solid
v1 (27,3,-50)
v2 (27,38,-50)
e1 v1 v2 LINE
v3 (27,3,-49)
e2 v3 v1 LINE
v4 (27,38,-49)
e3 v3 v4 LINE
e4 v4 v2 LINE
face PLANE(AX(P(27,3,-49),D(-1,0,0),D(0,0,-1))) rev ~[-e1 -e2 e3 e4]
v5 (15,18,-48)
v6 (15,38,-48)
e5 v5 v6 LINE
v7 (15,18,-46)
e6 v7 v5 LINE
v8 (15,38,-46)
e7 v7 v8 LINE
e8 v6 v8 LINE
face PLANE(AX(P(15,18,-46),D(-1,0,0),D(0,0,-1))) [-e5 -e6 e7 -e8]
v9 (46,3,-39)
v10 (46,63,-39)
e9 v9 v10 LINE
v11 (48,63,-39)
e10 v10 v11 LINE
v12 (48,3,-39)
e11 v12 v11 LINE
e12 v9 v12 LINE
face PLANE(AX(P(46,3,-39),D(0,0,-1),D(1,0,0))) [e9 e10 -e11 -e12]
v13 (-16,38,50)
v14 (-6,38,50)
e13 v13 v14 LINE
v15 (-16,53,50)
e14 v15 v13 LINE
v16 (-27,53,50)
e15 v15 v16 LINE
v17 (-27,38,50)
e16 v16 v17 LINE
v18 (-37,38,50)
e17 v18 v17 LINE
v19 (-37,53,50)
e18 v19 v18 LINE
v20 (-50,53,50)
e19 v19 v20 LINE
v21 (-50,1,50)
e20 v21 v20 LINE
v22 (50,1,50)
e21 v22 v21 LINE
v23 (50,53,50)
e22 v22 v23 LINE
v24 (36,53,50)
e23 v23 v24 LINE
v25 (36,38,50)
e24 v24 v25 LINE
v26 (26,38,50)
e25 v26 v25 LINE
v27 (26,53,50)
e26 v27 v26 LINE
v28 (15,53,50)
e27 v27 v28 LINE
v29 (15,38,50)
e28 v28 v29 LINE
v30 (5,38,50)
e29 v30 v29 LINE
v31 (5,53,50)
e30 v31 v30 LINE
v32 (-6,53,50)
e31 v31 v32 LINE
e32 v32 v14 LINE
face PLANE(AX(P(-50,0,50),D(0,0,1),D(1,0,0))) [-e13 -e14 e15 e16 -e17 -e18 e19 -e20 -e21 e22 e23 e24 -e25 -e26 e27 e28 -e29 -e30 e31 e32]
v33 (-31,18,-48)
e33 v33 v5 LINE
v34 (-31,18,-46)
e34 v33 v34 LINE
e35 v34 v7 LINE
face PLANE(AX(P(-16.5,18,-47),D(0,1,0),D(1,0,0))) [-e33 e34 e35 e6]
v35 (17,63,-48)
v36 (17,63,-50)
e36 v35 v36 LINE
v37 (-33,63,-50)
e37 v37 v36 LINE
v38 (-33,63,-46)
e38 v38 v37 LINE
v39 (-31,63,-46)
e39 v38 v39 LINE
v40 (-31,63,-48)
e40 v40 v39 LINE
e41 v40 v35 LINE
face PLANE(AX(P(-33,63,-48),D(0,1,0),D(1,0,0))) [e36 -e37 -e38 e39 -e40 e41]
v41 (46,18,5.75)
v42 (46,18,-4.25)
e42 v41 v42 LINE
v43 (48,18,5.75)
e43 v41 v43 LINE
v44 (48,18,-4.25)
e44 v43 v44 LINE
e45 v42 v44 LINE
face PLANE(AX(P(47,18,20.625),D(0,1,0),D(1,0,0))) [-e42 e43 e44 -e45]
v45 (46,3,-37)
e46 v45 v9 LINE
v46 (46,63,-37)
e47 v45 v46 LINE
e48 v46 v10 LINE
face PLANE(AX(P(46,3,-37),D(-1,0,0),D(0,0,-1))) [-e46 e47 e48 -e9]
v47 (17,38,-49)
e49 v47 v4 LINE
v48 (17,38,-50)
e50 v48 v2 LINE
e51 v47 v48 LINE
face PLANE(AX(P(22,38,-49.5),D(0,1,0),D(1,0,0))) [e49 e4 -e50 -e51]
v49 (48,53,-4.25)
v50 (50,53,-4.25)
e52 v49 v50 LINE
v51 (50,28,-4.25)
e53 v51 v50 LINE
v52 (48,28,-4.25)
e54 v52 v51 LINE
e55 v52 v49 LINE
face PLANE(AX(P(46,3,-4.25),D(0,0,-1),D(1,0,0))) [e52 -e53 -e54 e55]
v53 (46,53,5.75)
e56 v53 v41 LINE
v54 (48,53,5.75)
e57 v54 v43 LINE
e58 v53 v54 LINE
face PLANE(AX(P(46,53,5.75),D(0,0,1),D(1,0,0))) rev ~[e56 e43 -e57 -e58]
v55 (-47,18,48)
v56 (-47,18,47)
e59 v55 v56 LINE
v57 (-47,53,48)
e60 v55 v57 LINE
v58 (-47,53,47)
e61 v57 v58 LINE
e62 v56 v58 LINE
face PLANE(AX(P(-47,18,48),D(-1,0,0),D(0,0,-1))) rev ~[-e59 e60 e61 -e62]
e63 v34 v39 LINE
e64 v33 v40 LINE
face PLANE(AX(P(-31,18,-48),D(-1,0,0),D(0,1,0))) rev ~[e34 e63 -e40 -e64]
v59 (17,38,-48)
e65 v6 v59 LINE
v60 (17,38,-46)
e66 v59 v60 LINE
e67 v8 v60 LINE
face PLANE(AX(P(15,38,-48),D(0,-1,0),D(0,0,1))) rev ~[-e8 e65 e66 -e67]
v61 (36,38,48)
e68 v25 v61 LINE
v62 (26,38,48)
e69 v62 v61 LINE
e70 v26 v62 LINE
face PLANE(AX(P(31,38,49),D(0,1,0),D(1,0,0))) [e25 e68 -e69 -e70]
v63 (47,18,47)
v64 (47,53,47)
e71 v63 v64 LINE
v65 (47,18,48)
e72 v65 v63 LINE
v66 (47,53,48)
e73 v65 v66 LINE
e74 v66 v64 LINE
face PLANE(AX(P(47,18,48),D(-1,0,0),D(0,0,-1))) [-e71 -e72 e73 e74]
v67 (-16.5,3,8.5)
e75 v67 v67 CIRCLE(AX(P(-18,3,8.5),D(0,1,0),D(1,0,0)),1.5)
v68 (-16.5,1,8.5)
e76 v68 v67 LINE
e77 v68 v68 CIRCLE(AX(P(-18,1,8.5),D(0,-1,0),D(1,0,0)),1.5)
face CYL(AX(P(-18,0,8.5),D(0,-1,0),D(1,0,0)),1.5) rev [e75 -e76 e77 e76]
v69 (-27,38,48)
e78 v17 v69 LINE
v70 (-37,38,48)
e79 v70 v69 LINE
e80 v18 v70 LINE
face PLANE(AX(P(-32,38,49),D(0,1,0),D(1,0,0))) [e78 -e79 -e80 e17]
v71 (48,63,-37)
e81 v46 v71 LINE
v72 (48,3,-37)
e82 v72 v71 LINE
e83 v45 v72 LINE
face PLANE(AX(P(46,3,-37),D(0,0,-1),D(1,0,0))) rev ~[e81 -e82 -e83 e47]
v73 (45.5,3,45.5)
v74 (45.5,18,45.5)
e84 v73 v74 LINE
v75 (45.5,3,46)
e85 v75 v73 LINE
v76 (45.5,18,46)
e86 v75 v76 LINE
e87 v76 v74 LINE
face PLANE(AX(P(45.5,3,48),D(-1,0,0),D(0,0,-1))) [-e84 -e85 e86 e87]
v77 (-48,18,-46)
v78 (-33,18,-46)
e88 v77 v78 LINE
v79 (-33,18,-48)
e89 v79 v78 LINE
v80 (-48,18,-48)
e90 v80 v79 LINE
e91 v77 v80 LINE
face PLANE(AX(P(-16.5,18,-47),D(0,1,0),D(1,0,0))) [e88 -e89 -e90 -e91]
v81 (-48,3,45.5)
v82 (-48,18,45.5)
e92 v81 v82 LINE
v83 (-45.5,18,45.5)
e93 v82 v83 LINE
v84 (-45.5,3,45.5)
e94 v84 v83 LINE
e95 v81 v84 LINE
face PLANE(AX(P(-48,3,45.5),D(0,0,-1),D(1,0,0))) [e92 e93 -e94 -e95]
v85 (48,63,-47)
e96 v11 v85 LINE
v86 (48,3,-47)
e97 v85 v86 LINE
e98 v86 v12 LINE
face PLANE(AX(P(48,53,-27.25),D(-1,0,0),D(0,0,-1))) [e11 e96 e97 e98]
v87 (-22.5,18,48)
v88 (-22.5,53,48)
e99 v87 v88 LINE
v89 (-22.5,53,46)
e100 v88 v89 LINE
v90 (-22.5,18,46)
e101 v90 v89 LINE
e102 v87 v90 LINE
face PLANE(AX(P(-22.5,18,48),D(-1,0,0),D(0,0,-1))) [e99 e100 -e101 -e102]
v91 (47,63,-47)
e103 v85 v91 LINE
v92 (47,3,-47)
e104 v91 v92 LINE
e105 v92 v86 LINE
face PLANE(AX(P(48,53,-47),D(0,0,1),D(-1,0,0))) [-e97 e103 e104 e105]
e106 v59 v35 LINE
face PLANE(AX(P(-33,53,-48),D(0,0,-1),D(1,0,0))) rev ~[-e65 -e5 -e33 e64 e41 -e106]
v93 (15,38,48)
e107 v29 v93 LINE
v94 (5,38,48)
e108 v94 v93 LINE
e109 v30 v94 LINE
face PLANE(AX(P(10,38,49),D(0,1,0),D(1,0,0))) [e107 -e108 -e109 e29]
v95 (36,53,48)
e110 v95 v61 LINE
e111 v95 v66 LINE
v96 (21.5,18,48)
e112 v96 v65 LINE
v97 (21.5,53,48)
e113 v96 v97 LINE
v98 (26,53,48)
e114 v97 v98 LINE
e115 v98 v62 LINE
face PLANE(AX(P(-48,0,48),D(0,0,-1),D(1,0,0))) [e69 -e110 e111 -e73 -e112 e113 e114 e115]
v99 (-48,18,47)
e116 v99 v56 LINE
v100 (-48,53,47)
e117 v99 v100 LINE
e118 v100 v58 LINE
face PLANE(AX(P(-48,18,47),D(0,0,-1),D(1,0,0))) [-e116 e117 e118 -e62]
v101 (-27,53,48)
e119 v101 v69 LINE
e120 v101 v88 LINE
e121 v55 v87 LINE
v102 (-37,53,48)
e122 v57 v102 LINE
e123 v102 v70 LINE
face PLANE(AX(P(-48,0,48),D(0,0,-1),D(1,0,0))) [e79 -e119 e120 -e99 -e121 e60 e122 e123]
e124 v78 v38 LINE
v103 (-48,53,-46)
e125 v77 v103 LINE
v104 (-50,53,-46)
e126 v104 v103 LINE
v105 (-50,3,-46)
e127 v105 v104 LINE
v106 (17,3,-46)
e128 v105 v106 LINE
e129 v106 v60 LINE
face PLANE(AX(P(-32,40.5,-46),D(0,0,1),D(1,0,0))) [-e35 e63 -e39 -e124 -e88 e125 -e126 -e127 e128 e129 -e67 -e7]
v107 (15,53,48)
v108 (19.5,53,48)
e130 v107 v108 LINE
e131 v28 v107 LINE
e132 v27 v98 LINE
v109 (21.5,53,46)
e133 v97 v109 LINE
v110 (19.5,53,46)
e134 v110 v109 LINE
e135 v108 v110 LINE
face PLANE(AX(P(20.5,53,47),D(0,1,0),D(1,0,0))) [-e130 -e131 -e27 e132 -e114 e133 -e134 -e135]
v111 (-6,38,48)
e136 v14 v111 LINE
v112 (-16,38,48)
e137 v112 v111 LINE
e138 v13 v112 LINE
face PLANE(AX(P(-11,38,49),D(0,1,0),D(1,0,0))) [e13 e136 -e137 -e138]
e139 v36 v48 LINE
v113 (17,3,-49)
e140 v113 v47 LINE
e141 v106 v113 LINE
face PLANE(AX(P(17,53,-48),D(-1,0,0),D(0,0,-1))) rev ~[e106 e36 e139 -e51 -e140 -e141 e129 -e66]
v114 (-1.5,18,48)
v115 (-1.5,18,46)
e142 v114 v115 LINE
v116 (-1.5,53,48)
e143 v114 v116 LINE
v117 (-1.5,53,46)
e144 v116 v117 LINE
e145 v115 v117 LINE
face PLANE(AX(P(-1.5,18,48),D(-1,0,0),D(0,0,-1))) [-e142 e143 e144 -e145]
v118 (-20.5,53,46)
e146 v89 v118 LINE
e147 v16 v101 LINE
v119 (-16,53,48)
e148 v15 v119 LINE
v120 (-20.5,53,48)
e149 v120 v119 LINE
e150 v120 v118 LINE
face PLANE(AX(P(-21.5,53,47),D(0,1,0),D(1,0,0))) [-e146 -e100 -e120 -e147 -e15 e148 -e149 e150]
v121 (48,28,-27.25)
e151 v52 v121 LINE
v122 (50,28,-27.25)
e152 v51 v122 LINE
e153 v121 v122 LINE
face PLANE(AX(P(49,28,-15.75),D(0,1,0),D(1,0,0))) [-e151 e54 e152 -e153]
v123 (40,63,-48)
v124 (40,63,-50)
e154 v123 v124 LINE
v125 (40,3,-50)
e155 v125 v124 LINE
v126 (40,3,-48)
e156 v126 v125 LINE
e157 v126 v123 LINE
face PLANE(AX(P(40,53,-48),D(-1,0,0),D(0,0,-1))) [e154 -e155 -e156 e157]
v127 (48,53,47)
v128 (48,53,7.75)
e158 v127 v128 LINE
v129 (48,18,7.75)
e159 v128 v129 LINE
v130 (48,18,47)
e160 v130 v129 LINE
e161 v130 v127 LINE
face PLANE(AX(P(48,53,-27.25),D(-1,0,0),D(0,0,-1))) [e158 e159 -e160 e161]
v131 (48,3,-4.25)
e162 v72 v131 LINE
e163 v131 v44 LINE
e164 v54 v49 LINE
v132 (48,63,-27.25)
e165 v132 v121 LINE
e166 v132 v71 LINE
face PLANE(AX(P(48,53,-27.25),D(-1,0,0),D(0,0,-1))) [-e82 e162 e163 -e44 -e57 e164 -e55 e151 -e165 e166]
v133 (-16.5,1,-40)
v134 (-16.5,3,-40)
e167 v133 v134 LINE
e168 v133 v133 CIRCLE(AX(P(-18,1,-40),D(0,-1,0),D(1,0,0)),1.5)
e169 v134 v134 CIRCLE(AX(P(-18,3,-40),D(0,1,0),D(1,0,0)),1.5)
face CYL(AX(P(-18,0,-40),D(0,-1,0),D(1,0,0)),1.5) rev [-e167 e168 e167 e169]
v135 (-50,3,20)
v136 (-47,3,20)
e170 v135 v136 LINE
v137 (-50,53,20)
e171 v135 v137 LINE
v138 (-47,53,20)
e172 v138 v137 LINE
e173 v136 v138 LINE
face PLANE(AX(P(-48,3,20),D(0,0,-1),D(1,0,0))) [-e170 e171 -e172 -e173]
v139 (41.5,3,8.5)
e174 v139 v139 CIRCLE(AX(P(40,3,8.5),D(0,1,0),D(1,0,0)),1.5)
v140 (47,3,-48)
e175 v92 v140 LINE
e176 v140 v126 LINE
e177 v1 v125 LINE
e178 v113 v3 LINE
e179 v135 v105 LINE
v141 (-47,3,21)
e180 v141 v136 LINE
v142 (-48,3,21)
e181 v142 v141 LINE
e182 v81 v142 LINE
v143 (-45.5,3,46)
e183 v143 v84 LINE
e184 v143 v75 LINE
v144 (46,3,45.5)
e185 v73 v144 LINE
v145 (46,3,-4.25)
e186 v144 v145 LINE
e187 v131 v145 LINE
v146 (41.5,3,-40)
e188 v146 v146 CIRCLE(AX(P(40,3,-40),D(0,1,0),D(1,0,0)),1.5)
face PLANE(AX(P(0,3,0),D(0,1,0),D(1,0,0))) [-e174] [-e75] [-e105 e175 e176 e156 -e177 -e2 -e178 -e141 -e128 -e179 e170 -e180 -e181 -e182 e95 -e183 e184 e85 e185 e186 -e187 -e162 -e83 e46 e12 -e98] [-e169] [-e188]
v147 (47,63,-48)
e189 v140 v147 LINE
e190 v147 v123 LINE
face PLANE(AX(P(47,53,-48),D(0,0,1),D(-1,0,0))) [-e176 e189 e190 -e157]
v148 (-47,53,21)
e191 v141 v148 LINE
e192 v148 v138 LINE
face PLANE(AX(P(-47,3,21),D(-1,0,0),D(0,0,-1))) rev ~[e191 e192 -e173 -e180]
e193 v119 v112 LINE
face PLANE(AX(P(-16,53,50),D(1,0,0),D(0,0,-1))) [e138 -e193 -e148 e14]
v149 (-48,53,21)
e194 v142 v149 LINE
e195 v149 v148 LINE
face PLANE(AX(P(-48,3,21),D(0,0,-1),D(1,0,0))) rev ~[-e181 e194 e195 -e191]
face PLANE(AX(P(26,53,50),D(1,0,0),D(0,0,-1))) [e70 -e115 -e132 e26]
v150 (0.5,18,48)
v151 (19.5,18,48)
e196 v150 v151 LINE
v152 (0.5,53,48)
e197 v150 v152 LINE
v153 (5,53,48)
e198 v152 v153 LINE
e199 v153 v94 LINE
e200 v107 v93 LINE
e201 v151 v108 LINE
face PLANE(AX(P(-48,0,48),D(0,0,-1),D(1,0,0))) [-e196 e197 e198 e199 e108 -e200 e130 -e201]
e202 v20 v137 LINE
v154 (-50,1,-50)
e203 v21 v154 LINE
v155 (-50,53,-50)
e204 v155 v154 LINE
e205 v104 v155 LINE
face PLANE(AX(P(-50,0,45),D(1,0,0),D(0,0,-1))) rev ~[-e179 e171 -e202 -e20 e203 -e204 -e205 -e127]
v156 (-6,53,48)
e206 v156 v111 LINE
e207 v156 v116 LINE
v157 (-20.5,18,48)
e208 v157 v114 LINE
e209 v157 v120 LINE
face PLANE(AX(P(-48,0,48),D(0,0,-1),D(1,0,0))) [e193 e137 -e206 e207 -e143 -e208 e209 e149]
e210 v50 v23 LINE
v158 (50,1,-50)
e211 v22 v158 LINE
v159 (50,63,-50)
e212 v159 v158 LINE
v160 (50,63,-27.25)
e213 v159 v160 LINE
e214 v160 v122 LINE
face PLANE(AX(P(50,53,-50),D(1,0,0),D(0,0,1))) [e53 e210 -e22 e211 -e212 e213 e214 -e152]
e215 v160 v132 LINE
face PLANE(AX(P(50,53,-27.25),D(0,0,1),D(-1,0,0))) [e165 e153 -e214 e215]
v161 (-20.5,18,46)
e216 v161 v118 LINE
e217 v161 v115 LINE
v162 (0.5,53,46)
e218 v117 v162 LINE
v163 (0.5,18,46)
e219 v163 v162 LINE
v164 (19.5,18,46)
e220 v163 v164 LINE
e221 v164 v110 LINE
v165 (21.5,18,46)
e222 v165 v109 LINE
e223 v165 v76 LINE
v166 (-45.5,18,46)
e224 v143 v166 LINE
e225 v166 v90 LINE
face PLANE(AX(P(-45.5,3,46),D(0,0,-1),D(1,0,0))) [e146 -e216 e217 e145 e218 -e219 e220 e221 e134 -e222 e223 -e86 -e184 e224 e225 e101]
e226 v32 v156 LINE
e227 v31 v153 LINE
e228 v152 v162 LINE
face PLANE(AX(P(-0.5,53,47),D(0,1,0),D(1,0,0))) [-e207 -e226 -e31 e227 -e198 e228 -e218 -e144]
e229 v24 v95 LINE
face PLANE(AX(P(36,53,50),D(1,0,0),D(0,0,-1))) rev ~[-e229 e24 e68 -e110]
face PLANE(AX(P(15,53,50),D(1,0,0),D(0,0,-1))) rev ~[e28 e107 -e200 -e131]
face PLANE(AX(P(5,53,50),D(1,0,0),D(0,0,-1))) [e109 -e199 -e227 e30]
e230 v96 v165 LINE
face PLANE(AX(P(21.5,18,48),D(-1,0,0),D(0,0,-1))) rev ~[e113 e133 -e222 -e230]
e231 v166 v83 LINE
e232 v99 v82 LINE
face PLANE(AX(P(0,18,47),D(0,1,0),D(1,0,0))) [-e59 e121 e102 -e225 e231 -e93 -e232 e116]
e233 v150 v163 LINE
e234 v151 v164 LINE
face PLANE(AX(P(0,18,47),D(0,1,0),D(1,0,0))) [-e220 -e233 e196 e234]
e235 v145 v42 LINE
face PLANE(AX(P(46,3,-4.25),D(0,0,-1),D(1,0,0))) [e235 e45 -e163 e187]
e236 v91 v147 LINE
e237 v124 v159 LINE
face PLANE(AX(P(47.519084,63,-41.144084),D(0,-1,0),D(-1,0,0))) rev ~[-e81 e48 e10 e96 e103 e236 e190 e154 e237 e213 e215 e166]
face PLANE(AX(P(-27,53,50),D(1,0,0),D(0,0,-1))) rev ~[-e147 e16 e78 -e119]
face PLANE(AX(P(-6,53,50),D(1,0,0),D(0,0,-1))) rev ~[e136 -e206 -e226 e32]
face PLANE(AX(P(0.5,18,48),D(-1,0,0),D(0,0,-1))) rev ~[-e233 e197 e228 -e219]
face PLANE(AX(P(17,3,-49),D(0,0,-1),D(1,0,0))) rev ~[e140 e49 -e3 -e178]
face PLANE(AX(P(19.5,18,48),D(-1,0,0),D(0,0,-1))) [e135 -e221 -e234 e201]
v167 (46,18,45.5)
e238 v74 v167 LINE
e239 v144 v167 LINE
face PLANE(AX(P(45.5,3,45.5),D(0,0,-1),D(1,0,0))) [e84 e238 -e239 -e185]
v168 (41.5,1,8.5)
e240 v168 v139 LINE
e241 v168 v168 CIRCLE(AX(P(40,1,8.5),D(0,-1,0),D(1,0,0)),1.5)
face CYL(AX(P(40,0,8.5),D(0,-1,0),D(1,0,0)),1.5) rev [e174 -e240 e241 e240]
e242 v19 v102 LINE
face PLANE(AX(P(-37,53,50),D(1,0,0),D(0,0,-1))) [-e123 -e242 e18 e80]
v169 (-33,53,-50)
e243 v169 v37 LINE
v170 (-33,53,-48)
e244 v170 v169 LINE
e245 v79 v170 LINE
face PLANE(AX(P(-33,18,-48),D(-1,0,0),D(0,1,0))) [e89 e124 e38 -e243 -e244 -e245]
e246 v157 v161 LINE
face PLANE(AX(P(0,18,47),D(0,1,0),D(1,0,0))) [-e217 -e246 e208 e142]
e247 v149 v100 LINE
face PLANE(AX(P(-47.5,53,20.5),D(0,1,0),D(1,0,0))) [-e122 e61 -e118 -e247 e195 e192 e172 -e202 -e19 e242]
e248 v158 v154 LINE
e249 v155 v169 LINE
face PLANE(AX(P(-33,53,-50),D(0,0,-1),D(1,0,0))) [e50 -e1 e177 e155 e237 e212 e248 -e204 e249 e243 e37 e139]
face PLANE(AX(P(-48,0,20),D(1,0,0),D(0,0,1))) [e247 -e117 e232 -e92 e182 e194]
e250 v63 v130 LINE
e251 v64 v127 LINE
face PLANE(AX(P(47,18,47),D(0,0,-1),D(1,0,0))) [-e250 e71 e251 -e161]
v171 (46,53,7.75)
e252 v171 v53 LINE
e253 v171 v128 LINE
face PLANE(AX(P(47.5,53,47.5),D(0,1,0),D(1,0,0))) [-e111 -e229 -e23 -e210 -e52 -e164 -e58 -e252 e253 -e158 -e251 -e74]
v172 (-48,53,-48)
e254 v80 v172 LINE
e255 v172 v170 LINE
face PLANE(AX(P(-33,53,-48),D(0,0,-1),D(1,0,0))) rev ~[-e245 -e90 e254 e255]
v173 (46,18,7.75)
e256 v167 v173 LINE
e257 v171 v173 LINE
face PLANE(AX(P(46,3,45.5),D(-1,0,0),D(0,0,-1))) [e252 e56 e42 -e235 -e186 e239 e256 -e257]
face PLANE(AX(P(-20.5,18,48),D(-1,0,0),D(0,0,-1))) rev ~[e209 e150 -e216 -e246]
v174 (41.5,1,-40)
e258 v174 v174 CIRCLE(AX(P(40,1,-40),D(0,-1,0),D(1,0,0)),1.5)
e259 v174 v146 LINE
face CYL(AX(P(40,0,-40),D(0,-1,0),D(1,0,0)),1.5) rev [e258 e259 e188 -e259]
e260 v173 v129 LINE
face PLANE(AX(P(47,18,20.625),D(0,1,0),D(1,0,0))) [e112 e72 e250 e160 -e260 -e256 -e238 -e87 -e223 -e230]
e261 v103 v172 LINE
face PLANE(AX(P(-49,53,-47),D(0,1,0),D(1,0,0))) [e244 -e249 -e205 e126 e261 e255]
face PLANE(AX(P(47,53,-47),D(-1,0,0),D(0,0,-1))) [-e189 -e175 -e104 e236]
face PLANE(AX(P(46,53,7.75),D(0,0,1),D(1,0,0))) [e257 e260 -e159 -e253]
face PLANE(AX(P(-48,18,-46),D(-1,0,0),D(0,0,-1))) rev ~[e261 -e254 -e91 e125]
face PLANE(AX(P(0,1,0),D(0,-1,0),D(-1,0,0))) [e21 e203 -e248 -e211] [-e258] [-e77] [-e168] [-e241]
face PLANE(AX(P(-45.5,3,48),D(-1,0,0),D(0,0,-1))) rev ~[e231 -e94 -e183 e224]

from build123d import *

# Parameters (mm, degrees)
SKICA1_W                  = 100
SKICA1_H                  = 100
P_IDAT_VYSUNUT_M1_DEPTH   = 3
SKICA2_R                  = 1.5
ODEBRAT_VYSUNUT_M5_DEPTH  = 3
SKICA3_W                  = 75
SKICA3_H                  = 2
P_IDAT_VYSUNUT_M4_DEPTH   = 53
SKICA10_W                 = 8
SKICA10_H                 = 2
ODEBRAT_VYSUNUT_M6_DEPTH  = 50
SKICA11_W                 = 10
SKICA11_H                 = 2
ODEBRAT_VYSUNUT_M8_DEPTH  = 15
SKICA16_W                 = 67
SKICA16_H                 = 2
P_IDAT_VYSUNUT_M6_DEPTH   = 15
SKICA17_W                 = 2.5
SKICA17_H                 = 2.5
P_IDAT_VYSUNUT_M7_DEPTH   = 15
SKICA18_W                 = 2.5
SKICA18_H                 = 2.5
P_IDAT_VYSUNUT_M8_DEPTH   = 15
SKICA19_W                 = 1
SKICA19_H                 = 1
P_IDAT_VYSUNUT_M10_DEPTH  = 50
SKICA20_W                 = 1
SKICA20_H                 = 1
P_IDAT_VYSUNUT_M11_DEPTH  = 35
SKICA21_W                 = 1
SKICA21_H                 = 1
P_IDAT_VYSUNUT_M12_DEPTH  = 35
SKICA22_W                 = 1
SKICA22_H                 = 1
P_IDAT_VYSUNUT_M13_DEPTH  = 50
SKICA24_W                 = 91
SKICA24_H                 = 2
P_IDAT_VYSUNUT_M14_DEPTH  = 15
SKICA25_W                 = 2
SKICA25_H                 = 2
P_IDAT_VYSUNUT_M15_DEPTH  = 35
SKICA26_W                 = 2
SKICA26_H                 = 2
P_IDAT_VYSUNUT_M16_DEPTH  = 35
SKICA27_W                 = 2
SKICA27_H                 = 49.75
P_IDAT_VYSUNUT_M17_DEPTH  = 15
SKICA28_W                 = 100
SKICA28_H                 = 5
P_IDAT_VYSUNUT_M18_DEPTH  = 5
SKICA30_W                 = 5
SKICA30_H                 = 90
P_IDAT_VYSUNUT_M19_DEPTH  = 5
SKICA31_W                 = 100
SKICA31_H                 = 100
ODEBRAT_VYSUNUT_M9_DEPTH  = 6
SKICA32_W                 = 2
SKICA32_H                 = 15
ODEBRAT_VYSUNUT_M10_DEPTH = 6
SKICA33_W                 = 2
SKICA33_H                 = 23
P_IDAT_VYSUNUT_M22_DEPTH  = 25
P_IDAT_VYSUNUT_M23_DEPTH  = 10
SKICA35_W                 = 50
SKICA35_H                 = 2
P_IDAT_VYSUNUT_M24_DEPTH  = 10
SKICA36_W                 = 2
SKICA36_H                 = 45
P_IDAT_VYSUNUT_M25_DEPTH  = 2
SKICA37_W                 = 2
SKICA37_H                 = 2
P_IDAT_VYSUNUT_M26_DEPTH  = 60
SKICA38_W                 = 10
SKICA38_H                 = 1
P_IDAT_VYSUNUT_M27_DEPTH  = 35
SKICA40_W                 = 2
SKICA40_H                 = 2
P_IDAT_VYSUNUT_M29_DEPTH  = 35


with BuildPart() as part:
    # Skica1 → Přidat vysunutím1 (new body)
    with BuildSketch(Plane(origin=(0, 0, 0), x_dir=(1, 0, 0), z_dir=(0, 1, 0))):
        Rectangle(SKICA1_W, SKICA1_H)
    extrude(amount=P_IDAT_VYSUNUT_M1_DEPTH)

    # Skica2 → Odebrat vysunutím5 (cut)
    with BuildSketch(Plane(origin=(0, 0, 0), x_dir=(1, 0, 0), z_dir=(0, 1, 0))):
        with Locations((-18, 40)):
            Circle(SKICA2_R)
        with Locations((40, 40)):
            Circle(SKICA2_R)
        with Locations((40, -8.5)):
            Circle(SKICA2_R)
        with Locations((-18, -8.5)):
            Circle(SKICA2_R)
    extrude(amount=ODEBRAT_VYSUNUT_M5_DEPTH, mode=Mode.SUBTRACT)

    # Skica3 → Přidat vysunutím4 (add)
    with BuildSketch(Plane(origin=(0, 0, 0), x_dir=(1, 0, 0), z_dir=(0, 1, 0))):
        Polygon((40, 50), (40, 48), (48, 48), (48, 27.25), (50, 27.25), (50, 50), align=None)
        Polygon((-50, -20), (-48, -20), (-48, -48), (48, -48), (48, 4.25), (50, 4.25), (50, -50), (-50, -50), align=None)
        with Locations((-12.5, 49)):
            Rectangle(SKICA3_W, SKICA3_H)
    extrude(amount=P_IDAT_VYSUNUT_M4_DEPTH)

    # Skica10 → Odebrat vysunutím6 (cut)
    with BuildSketch(Plane(origin=(0, 53, 0), x_dir=(1, 0, 0), z_dir=(0, 1, 0))):
        with Locations((21, 49)):
            Rectangle(SKICA10_W, SKICA10_H)
    extrude(amount=-ODEBRAT_VYSUNUT_M6_DEPTH, mode=Mode.SUBTRACT)

    # Skica11 → Odebrat vysunutím8 (cut)
    with BuildSketch(Plane(origin=(0, 53, 0), x_dir=(1, 0, 0), z_dir=(0, 1, 0))):
        with Locations((-32, -49)):
            Rectangle(SKICA11_W, SKICA11_H)
        with Locations((-11, -49)):
            Rectangle(SKICA11_W, SKICA11_H)
        with Locations((10, -49)):
            Rectangle(SKICA11_W, SKICA11_H)
        with Locations((31, -49)):
            Rectangle(SKICA11_W, SKICA11_H)
    extrude(amount=-ODEBRAT_VYSUNUT_M8_DEPTH, mode=Mode.SUBTRACT)

    # Skica16 → Přidat vysunutím6 (add)
    with BuildSketch(Plane(origin=(0, 3, 0), x_dir=(1, 0, 0), z_dir=(0, 1, 0))):
        with Locations((-16.5, 47)):
            Rectangle(SKICA16_W, SKICA16_H)
    extrude(amount=P_IDAT_VYSUNUT_M6_DEPTH)

    # Skica17 → Přidat vysunutím7 (add)
    with BuildSketch(Plane(origin=(0, 3, 0), x_dir=(1, 0, 0), z_dir=(0, 1, 0))):
        with Locations((46.75, -46.75)):
            Rectangle(SKICA17_W, SKICA17_H)
    extrude(amount=P_IDAT_VYSUNUT_M7_DEPTH)

    # Skica18 → Přidat vysunutím8 (add)
    with BuildSketch(Plane(origin=(0, 3, 0), x_dir=(1, 0, 0), z_dir=(0, 1, 0))):
        with Locations((-46.75, -46.75)):
            Rectangle(SKICA18_W, SKICA18_H)
    extrude(amount=P_IDAT_VYSUNUT_M8_DEPTH)

    # Skica19 → Přidat vysunutím10 (add)
    with BuildSketch(Plane(origin=(0, 3, 0), x_dir=(1, 0, 0), z_dir=(0, 1, 0))):
        with Locations((47.5, 47.5)):
            Rectangle(SKICA19_W, SKICA19_H)
    extrude(amount=P_IDAT_VYSUNUT_M10_DEPTH)

    # Skica20 → Přidat vysunutím11 (add)
    with BuildSketch(Plane(origin=(0, 18, 0), x_dir=(1, 0, 0), z_dir=(0, 1, 0))):
        with Locations((47.5, -47.5)):
            Rectangle(SKICA20_W, SKICA20_H)
    extrude(amount=P_IDAT_VYSUNUT_M11_DEPTH)

    # Skica21 → Přidat vysunutím12 (add)
    with BuildSketch(Plane(origin=(0, 18, 0), x_dir=(1, 0, 0), z_dir=(0, 1, 0))):
        with Locations((-47.5, -47.5)):
            Rectangle(SKICA21_W, SKICA21_H)
    extrude(amount=P_IDAT_VYSUNUT_M12_DEPTH)

    # Skica22 → Přidat vysunutím13 (add)
    with BuildSketch(Plane(origin=(0, 3, 0), x_dir=(1, 0, 0), z_dir=(0, 1, 0))):
        with Locations((-47.5, -20.5)):
            Rectangle(SKICA22_W, SKICA22_H)
    extrude(amount=P_IDAT_VYSUNUT_M13_DEPTH)

    # Skica24 → Přidat vysunutím14 (add)
    with BuildSketch(Plane(origin=(0, 3, 0), x_dir=(1, 0, 0), z_dir=(0, 1, 0))):
        with Locations((0, -47)):
            Rectangle(SKICA24_W, SKICA24_H)
    extrude(amount=P_IDAT_VYSUNUT_M14_DEPTH)

    # Skica25 → Přidat vysunutím15 (add)
    with BuildSketch(Plane(origin=(0, 18, 0), x_dir=(1, 0, 0), z_dir=(0, 1, 0))):
        with Locations((20.5, -47)):
            Rectangle(SKICA25_W, SKICA25_H)
        with Locations((-0.5, -47)):
            Rectangle(SKICA25_W, SKICA25_H)
        with Locations((-21.5, -47)):
            Rectangle(SKICA25_W, SKICA25_H)
    extrude(amount=P_IDAT_VYSUNUT_M15_DEPTH)

    # Skica26 → Přidat vysunutím16 (add)
    with BuildSketch(Plane(origin=(0, 18, 0), x_dir=(1, 0, 0), z_dir=(0, 1, 0))):
        with Locations((-49, 47)):
            Rectangle(SKICA26_W, SKICA26_H)
        with Locations((16, 47)):
            Rectangle(SKICA26_W, SKICA26_H)
    extrude(amount=P_IDAT_VYSUNUT_M16_DEPTH)

    # Skica27 → Přidat vysunutím17 (add)
    with BuildSketch(Plane(origin=(0, 3, 0), x_dir=(1, 0, 0), z_dir=(0, 1, 0))):
        with Locations((47, -20.625)):
            Rectangle(SKICA27_W, SKICA27_H)
    extrude(amount=P_IDAT_VYSUNUT_M17_DEPTH)

    # Skica28 → Přidat vysunutím18 (add)
    with BuildSketch(Plane(origin=(0, 0, 0), x_dir=(1, 0, 0), z_dir=(0, 1, 0))):
        with Locations((0, -47.5)):
            Rectangle(SKICA28_W, SKICA28_H)
        with Locations((0, 47.5)):
            Rectangle(SKICA28_W, SKICA28_H)
    extrude(amount=-P_IDAT_VYSUNUT_M18_DEPTH)

    # Skica30 → Přidat vysunutím19 (add)
    with BuildSketch(Plane(origin=(0, 0, 0), x_dir=(-1, 0, 0), z_dir=(0, -1, 0))):
        with Locations((47.5, 0)):
            Rectangle(SKICA30_W, SKICA30_H)
        with Locations((-47.5, 0)):
            Rectangle(SKICA30_W, SKICA30_H)
    extrude(amount=P_IDAT_VYSUNUT_M19_DEPTH)

    # Skica31 → Odebrat vysunutím9 (cut)
    with BuildSketch(Plane(origin=(0, -5, 0), x_dir=(-1, 0, 0), z_dir=(0, -1, 0))):
        Rectangle(SKICA31_W, SKICA31_H)
    extrude(amount=-ODEBRAT_VYSUNUT_M9_DEPTH, mode=Mode.SUBTRACT)

    # Skica32 → Odebrat vysunutím10 (cut)
    with BuildSketch(Plane.ZY.offset(-15)):
        with Locations((-47, 45.5)):
            Rectangle(SKICA32_W, SKICA32_H)
    extrude(amount=-ODEBRAT_VYSUNUT_M10_DEPTH, mode=Mode.SUBTRACT)

    # Skica33 → Přidat vysunutím22 (add)
    with BuildSketch(Plane(origin=(0, 3, 0), x_dir=(1, 0, 0), z_dir=(0, 1, 0))):
        with Locations((49, 15.75)):
            Rectangle(SKICA33_W, SKICA33_H)
    extrude(amount=P_IDAT_VYSUNUT_M22_DEPTH)

    # Skica34 → Přidat vysunutím23 (add)
    with BuildSketch(Plane(origin=(0, 53, 0), x_dir=(1, 0, 0), z_dir=(0, 1, 0))):
        Polygon((40, 50), (50, 50), (50, 27.25), (48, 27.25), (48, 47), (47, 47), (47, 48), (40, 48), align=None)
    extrude(amount=P_IDAT_VYSUNUT_M23_DEPTH)

    # Skica35 → Přidat vysunutím24 (add)
    with BuildSketch(Plane(origin=(0, 53, 0), x_dir=(1, 0, 0), z_dir=(0, 1, 0))):
        with Locations((-8, 49)):
            Rectangle(SKICA35_W, SKICA35_H)
    extrude(amount=P_IDAT_VYSUNUT_M24_DEPTH)

    # Skica36 → Přidat vysunutím25 (add)
    with BuildSketch(Plane.XY.offset(-48)):
        with Locations((-32, 40.5)):
            Rectangle(SKICA36_W, SKICA36_H)
    extrude(amount=P_IDAT_VYSUNUT_M25_DEPTH)

    # Skica37 → Přidat vysunutím26 (add)
    with BuildSketch(Plane(origin=(0, 3, 0), x_dir=(1, 0, 0), z_dir=(0, 1, 0))):
        with Locations((47, 38)):
            Rectangle(SKICA37_W, SKICA37_H)
    extrude(amount=P_IDAT_VYSUNUT_M26_DEPTH)

    # Skica38 → Přidat vysunutím27 (add)
    with BuildSketch(Plane(origin=(0, 3, 0), x_dir=(1, 0, 0), z_dir=(0, 1, 0))):
        with Locations((22, 49.5)):
            Rectangle(SKICA38_W, SKICA38_H)
    extrude(amount=P_IDAT_VYSUNUT_M27_DEPTH)

    # Skica40 → Přidat vysunutím29 (add)
    with BuildSketch(Plane(origin=(0, 53, 0), x_dir=(1, 0, 0), z_dir=(0, 1, 0))):
        with Locations((47, -6.75)):
            Rectangle(SKICA40_W, SKICA40_H)
    extrude(amount=-P_IDAT_VYSUNUT_M29_DEPTH)


solid = part.part
